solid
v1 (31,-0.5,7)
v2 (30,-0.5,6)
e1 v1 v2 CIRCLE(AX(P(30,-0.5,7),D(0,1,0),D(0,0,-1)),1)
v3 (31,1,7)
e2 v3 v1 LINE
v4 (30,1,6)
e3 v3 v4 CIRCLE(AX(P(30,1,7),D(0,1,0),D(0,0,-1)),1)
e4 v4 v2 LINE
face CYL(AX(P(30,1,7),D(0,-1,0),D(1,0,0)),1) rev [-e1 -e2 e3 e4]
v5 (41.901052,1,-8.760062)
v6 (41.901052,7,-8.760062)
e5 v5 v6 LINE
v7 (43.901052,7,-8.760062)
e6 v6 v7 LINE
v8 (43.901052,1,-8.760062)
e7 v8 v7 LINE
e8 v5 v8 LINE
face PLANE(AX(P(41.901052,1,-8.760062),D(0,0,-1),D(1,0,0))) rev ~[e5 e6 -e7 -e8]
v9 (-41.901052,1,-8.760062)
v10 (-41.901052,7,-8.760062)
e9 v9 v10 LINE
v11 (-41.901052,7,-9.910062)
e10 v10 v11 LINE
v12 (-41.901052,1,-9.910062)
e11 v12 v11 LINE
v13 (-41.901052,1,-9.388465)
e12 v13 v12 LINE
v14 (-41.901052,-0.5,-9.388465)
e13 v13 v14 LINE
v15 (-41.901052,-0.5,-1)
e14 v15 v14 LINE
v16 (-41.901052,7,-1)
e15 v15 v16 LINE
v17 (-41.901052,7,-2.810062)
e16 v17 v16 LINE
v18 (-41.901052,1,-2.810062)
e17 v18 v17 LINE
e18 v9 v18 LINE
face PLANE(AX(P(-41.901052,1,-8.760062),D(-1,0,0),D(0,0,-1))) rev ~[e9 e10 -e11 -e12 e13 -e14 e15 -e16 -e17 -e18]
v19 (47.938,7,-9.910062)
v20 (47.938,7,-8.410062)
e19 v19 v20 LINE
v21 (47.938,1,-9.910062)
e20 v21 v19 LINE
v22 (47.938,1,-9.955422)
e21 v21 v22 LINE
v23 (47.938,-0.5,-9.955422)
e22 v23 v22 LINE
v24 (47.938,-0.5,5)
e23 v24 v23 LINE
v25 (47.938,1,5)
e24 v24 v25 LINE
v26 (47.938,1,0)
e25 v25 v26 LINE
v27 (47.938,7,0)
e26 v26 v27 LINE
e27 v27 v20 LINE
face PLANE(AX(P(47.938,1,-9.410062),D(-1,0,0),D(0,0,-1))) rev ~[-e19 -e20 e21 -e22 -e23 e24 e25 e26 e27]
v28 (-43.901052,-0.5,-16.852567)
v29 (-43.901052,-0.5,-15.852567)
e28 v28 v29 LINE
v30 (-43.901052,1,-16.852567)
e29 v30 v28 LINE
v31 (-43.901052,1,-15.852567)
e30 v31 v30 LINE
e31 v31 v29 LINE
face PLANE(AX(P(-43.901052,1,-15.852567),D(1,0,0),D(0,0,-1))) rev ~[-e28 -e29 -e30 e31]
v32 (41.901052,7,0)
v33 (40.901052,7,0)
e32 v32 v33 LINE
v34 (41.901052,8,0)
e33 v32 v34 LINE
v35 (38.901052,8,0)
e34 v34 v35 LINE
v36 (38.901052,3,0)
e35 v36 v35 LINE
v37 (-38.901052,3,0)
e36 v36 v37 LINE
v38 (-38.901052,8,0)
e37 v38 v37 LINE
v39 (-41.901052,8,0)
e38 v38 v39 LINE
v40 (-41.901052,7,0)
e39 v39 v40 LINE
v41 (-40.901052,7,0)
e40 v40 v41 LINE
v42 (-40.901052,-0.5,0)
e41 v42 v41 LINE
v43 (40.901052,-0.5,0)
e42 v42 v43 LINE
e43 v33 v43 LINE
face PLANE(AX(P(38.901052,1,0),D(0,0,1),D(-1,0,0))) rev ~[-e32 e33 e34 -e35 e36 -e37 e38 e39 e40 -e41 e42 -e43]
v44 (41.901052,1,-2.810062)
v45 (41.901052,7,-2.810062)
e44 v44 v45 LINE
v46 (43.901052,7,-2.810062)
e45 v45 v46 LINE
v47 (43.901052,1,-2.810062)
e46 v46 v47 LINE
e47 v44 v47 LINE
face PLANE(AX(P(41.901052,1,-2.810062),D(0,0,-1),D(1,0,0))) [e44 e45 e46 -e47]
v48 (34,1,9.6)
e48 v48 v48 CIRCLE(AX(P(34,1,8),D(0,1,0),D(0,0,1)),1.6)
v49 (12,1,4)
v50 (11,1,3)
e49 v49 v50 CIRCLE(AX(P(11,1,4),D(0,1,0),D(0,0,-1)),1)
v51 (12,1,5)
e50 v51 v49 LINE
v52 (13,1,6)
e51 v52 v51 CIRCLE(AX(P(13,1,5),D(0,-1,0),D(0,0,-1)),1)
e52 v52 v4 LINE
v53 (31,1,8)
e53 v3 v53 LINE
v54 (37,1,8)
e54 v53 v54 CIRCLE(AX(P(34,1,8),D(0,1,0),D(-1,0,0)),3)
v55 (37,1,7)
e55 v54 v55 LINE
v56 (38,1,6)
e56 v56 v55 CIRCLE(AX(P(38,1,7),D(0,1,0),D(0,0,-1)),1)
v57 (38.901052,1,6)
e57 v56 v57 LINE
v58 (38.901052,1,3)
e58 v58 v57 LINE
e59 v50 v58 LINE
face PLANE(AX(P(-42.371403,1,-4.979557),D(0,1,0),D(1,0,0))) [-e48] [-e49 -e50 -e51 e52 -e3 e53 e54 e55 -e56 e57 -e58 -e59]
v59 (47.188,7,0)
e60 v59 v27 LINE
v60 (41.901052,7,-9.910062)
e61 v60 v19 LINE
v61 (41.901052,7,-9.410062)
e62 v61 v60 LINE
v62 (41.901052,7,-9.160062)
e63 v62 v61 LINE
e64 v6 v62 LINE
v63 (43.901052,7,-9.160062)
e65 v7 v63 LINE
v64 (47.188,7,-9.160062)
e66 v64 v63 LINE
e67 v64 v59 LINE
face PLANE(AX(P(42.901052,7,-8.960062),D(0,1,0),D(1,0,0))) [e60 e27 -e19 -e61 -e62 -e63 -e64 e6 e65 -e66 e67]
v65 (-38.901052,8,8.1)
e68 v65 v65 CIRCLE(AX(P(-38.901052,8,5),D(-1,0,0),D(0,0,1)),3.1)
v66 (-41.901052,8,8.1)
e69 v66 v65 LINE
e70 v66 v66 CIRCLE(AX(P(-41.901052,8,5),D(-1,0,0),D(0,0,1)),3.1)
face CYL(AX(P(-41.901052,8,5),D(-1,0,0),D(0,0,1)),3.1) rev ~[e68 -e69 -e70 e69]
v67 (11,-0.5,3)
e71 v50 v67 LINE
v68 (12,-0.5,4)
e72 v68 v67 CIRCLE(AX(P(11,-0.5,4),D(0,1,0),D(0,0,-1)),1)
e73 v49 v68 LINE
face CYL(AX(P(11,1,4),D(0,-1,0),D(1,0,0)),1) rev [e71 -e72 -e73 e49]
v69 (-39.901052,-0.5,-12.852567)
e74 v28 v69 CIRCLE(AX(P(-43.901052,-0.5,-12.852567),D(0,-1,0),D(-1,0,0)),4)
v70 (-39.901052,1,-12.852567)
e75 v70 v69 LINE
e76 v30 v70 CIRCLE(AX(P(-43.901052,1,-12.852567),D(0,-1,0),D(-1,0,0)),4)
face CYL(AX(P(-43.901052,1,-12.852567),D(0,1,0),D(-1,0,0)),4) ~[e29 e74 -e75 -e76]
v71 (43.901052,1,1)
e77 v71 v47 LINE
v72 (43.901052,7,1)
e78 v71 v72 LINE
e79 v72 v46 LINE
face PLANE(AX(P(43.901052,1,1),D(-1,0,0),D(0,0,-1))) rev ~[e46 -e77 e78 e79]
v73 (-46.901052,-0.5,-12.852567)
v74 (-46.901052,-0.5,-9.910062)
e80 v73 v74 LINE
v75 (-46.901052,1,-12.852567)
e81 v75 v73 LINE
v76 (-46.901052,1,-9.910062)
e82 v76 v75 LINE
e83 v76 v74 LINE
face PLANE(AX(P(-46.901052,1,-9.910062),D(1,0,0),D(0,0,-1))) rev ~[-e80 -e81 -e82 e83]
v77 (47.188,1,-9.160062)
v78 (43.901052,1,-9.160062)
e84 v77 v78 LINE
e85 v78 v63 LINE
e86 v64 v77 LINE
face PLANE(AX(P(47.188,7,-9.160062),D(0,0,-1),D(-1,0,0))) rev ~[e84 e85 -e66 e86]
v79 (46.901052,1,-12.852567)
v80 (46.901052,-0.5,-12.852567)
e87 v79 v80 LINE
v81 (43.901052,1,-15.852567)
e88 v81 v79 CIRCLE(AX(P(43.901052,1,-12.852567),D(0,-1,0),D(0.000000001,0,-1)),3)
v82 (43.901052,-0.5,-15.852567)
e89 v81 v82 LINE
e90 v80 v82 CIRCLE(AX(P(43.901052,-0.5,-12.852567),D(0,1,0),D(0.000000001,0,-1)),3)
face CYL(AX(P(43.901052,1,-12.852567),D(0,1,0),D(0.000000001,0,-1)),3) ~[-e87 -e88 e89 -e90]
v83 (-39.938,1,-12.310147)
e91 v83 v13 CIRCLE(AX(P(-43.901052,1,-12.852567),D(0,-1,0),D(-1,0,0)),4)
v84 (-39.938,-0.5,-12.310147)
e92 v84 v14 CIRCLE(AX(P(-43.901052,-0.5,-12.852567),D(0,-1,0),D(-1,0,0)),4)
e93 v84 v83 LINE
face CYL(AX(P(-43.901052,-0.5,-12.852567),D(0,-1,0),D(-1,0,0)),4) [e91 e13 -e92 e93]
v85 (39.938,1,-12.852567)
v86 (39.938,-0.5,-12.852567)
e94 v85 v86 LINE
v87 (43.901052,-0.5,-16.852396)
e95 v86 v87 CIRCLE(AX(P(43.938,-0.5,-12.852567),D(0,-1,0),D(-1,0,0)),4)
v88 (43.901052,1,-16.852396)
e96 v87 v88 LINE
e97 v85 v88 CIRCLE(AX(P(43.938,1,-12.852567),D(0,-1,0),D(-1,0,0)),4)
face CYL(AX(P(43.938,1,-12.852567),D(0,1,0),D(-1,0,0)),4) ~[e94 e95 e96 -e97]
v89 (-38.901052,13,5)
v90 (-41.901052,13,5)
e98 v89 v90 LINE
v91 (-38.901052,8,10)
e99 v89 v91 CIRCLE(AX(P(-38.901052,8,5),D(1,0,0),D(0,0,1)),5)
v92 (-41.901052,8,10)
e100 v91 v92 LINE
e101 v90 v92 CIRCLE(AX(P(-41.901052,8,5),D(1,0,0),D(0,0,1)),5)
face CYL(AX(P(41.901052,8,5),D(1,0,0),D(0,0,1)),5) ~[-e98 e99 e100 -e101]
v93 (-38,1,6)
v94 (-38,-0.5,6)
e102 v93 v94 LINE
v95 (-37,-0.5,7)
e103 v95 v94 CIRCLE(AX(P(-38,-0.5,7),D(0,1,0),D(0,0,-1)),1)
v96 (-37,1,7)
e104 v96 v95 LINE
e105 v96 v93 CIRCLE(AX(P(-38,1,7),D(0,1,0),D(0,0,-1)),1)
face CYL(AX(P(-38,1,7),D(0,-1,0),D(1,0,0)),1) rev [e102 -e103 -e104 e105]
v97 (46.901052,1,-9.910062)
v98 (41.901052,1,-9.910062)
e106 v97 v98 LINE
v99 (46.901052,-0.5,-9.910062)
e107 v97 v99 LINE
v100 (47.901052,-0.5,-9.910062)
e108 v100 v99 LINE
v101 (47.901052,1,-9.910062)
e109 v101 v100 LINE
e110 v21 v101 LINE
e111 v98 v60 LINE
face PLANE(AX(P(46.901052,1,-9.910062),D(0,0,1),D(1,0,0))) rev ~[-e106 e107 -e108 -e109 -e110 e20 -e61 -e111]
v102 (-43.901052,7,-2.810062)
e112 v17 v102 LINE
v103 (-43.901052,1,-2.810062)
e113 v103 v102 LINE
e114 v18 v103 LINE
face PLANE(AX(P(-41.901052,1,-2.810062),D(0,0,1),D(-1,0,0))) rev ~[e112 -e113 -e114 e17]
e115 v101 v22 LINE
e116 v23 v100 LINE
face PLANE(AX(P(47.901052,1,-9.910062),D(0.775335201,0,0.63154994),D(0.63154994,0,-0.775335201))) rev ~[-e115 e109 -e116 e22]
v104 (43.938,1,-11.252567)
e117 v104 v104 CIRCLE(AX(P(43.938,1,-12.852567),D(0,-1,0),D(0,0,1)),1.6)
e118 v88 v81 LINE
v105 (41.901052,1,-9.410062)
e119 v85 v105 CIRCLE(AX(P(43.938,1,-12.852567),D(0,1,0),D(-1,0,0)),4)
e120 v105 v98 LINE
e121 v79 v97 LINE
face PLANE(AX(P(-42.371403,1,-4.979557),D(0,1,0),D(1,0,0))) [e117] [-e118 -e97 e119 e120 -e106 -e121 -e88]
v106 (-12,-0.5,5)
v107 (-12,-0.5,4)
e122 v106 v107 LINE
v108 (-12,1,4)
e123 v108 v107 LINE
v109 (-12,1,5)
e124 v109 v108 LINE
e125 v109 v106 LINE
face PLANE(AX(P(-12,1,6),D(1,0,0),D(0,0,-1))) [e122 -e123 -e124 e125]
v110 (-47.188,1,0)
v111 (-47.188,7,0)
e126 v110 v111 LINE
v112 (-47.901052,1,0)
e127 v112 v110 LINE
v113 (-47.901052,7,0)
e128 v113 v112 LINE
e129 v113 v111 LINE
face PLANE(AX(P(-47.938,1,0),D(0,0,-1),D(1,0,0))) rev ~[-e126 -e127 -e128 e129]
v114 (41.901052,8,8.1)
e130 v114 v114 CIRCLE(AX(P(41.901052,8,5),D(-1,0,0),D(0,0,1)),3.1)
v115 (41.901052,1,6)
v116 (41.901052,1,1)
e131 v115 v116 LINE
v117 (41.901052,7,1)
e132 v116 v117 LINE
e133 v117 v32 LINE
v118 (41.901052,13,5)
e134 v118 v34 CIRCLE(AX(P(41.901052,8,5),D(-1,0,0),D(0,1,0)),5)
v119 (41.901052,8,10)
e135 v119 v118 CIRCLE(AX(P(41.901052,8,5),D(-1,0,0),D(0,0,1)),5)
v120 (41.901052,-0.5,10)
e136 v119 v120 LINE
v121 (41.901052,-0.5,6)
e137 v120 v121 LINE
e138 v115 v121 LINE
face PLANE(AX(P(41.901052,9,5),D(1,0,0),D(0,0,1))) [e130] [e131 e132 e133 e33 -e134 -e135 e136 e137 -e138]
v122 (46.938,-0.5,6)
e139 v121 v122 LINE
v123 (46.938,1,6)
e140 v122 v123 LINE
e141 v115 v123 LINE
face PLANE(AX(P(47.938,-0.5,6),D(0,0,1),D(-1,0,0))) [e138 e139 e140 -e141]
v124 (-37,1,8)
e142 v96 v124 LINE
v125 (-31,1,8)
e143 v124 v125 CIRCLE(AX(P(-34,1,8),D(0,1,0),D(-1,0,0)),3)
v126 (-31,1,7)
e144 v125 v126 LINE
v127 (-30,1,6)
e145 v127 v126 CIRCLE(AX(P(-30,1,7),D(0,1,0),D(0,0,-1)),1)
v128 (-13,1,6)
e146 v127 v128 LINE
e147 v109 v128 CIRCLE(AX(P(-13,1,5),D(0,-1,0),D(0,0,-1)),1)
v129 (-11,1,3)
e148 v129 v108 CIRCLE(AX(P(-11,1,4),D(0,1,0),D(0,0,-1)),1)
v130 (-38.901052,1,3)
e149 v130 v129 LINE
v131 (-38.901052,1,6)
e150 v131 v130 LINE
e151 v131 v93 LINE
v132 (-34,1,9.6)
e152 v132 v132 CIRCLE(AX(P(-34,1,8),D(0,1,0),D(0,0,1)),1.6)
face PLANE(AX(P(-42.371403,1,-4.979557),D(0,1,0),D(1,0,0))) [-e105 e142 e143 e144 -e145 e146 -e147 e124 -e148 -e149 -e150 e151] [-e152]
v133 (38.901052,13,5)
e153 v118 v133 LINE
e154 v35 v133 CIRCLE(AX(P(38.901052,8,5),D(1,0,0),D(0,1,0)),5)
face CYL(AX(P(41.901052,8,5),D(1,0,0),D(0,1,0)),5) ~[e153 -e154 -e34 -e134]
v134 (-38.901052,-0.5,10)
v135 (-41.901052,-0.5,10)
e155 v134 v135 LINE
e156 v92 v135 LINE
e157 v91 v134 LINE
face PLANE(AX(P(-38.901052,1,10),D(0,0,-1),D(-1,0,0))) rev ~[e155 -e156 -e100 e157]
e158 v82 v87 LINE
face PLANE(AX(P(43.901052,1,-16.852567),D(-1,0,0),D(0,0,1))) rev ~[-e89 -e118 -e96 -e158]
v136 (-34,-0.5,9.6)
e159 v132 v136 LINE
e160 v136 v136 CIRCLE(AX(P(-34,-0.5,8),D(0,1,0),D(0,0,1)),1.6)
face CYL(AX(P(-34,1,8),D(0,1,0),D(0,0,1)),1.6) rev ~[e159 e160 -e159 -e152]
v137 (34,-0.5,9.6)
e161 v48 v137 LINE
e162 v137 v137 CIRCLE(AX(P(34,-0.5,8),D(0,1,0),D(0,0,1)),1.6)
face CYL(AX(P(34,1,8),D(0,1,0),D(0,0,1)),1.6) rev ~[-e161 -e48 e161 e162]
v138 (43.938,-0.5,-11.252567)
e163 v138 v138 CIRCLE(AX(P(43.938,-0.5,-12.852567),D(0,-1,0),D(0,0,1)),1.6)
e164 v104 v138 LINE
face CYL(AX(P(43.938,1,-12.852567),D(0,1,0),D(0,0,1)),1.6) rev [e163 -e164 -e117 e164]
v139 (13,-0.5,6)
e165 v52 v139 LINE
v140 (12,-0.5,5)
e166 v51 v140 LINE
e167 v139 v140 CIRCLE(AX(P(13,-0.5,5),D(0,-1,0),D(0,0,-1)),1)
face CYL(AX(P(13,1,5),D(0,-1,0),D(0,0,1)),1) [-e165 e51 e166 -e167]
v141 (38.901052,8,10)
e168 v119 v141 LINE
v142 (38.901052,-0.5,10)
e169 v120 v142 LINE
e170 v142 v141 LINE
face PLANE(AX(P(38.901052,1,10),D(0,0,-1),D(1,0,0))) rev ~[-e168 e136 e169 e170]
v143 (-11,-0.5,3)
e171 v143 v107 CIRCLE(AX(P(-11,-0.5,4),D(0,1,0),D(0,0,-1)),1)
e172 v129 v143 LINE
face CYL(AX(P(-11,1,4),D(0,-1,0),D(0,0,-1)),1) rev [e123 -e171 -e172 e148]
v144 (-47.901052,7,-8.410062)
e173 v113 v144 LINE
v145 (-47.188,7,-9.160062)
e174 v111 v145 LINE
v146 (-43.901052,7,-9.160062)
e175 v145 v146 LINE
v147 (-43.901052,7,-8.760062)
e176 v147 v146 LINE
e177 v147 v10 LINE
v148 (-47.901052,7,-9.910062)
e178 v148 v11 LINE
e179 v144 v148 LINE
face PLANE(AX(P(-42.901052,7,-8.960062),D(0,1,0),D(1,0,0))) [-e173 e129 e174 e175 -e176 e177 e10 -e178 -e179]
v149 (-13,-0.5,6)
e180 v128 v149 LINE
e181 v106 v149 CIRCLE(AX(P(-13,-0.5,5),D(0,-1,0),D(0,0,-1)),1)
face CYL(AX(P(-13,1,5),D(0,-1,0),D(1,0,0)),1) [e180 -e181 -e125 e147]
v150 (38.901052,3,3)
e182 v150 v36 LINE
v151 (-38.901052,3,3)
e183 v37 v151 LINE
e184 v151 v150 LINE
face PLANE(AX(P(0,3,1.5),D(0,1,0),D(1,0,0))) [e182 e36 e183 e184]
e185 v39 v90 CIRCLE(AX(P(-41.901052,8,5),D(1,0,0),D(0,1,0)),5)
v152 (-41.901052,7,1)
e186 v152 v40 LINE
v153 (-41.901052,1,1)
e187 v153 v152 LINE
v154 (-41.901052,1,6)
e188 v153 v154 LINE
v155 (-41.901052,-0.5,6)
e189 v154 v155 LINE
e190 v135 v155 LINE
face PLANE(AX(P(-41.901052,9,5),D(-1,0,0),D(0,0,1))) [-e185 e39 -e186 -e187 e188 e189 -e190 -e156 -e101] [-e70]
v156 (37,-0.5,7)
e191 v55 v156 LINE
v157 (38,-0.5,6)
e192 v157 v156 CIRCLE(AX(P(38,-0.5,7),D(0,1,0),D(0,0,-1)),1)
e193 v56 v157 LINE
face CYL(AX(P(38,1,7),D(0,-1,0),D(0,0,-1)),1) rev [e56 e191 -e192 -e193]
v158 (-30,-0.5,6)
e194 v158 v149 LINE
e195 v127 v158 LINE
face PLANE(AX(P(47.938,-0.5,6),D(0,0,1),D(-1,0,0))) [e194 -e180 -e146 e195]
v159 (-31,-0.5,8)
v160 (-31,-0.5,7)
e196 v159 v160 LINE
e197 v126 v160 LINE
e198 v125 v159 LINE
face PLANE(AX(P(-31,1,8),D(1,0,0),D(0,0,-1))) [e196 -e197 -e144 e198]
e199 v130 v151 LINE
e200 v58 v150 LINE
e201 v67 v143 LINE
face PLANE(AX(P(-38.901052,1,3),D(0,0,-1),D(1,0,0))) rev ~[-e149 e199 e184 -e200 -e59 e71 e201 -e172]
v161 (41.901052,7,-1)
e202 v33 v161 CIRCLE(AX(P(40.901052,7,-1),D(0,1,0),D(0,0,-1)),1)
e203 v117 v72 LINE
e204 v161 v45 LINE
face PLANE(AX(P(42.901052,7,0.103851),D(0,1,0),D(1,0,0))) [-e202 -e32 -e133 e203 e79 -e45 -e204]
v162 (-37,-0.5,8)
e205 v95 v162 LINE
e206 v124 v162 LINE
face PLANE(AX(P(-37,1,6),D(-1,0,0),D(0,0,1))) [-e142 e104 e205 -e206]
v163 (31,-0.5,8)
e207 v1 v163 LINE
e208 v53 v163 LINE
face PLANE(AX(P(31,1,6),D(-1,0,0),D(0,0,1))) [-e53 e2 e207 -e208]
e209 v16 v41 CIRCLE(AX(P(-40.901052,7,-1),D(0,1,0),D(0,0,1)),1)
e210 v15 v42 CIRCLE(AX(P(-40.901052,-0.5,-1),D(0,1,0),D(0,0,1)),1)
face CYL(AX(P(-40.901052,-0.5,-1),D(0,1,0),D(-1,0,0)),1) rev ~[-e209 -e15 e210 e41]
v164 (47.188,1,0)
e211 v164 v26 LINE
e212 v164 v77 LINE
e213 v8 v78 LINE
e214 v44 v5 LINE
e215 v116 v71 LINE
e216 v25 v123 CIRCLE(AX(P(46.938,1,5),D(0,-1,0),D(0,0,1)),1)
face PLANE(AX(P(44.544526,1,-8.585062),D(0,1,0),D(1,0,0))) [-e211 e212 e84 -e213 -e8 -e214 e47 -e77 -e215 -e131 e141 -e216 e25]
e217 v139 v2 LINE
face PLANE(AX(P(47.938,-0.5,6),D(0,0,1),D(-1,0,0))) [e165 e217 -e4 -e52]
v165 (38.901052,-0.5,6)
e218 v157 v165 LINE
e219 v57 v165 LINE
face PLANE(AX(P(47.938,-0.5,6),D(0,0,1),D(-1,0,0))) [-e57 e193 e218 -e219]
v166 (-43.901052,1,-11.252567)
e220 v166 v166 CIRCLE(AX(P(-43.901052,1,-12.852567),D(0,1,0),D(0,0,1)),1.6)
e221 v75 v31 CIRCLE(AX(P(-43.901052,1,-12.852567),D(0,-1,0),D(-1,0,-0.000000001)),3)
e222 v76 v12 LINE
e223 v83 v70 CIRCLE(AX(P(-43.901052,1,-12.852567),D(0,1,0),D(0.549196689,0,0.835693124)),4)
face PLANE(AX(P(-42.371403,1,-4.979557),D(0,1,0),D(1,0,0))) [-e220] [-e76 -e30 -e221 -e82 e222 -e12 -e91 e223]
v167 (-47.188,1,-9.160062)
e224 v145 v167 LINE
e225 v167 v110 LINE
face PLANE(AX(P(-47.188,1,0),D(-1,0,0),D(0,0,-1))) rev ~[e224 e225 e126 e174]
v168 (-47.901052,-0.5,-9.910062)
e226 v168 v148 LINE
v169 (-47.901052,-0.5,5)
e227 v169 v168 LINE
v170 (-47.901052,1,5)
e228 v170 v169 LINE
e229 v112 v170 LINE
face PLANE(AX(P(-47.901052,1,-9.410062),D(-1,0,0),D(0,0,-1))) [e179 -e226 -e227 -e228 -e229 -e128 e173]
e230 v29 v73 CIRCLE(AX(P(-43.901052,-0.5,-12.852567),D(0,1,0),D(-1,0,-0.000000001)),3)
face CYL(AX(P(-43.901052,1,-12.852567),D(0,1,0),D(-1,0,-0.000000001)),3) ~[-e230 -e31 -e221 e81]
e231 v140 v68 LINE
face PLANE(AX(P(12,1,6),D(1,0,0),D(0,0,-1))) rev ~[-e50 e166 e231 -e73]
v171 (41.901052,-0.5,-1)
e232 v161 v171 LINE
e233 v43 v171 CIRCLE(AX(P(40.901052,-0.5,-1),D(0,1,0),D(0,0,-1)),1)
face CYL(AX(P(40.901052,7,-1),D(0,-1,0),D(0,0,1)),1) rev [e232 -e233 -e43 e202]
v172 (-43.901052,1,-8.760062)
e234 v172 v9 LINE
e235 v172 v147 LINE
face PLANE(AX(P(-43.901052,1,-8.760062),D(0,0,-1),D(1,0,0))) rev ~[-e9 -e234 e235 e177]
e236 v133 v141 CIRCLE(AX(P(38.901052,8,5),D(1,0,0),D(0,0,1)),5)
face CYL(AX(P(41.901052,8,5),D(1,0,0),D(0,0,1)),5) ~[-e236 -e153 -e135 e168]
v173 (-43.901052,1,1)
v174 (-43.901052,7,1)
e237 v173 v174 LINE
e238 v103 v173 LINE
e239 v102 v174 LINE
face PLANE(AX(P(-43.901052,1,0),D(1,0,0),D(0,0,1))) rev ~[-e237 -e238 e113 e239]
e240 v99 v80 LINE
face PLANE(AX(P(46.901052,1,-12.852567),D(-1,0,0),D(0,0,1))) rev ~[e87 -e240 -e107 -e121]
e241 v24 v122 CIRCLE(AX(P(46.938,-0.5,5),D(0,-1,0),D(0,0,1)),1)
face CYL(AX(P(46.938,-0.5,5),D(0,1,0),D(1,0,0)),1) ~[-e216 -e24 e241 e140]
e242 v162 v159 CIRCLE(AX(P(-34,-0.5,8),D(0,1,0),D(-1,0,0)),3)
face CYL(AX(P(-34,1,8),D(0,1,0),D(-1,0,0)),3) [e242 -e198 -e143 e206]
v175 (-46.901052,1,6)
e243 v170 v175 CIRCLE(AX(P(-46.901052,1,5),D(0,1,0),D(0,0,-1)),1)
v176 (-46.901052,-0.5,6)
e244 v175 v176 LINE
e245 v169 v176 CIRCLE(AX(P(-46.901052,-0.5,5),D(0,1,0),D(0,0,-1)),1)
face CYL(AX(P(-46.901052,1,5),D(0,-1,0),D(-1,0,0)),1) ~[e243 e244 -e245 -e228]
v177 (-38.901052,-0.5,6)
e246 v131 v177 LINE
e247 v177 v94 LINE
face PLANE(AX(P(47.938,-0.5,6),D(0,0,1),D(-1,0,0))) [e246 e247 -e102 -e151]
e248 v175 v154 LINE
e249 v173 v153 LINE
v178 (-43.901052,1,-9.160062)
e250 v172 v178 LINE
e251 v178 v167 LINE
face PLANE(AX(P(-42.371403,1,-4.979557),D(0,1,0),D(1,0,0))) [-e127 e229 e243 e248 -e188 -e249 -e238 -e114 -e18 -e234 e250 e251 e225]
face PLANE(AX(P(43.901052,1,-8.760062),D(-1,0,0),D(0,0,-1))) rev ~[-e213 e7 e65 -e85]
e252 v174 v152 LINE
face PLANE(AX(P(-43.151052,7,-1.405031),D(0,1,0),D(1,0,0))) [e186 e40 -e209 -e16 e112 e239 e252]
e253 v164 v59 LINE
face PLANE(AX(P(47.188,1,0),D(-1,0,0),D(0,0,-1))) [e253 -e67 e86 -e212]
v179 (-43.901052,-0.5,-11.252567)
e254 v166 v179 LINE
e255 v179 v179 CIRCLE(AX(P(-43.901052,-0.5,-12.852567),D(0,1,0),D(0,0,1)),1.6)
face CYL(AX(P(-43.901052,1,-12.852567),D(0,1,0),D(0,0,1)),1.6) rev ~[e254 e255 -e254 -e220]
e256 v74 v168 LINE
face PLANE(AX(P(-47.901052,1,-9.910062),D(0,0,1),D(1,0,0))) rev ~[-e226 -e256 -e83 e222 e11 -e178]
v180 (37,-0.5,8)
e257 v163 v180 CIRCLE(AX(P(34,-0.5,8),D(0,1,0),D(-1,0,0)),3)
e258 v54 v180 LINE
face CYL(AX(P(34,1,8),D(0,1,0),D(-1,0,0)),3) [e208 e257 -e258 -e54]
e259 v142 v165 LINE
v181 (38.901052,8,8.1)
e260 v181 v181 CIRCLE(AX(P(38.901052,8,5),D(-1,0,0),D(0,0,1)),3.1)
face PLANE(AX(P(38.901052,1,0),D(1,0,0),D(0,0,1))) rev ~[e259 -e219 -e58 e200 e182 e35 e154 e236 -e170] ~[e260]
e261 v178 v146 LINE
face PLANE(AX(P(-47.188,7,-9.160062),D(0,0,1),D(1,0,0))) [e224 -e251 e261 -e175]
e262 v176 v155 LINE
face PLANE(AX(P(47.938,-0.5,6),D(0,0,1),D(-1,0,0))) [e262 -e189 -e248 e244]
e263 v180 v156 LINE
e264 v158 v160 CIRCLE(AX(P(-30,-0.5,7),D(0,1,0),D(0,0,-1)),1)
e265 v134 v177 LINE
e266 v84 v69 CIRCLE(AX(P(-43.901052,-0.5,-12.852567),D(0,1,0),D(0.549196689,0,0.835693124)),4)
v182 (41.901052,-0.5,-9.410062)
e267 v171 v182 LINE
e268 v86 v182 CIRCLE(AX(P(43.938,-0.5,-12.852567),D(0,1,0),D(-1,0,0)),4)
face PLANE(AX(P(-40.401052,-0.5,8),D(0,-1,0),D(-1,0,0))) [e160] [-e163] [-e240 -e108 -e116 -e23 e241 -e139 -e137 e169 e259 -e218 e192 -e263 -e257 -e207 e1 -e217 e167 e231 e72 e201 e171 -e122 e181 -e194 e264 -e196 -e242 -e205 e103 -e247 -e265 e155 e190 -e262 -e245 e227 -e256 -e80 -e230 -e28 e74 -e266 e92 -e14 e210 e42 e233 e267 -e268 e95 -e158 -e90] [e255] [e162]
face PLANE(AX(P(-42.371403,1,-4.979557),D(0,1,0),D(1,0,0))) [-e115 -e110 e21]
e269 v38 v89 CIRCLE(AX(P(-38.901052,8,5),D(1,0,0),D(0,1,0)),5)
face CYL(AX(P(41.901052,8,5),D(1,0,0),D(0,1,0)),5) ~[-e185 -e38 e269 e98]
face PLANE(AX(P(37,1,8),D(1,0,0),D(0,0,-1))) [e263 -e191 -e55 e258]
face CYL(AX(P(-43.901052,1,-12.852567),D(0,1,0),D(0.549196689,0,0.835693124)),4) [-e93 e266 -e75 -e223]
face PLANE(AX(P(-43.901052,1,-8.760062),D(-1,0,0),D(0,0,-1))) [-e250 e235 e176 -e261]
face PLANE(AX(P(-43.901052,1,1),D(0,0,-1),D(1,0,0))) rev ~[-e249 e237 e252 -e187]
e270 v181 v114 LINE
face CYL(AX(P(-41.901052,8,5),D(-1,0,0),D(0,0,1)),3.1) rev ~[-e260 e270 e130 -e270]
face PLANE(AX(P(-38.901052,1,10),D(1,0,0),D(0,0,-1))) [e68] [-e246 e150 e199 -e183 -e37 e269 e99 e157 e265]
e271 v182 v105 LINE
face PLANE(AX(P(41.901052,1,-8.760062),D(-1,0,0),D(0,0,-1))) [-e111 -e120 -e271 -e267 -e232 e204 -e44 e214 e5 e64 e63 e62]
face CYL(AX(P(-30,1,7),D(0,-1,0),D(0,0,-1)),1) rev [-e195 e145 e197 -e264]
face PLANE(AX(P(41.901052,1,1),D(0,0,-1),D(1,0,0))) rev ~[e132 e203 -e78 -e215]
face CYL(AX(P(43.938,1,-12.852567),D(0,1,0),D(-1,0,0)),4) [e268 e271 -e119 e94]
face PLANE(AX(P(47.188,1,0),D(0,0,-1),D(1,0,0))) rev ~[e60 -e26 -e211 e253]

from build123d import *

# Parameters (mm, degrees)
BOSS_EXTRUDE1_START      = -0.5
BOSS_EXTRUDE1_DEPTH      = 1.5
SKETCH2_R                = 1.6
CUT_EXTRUDE1_DEPTH       = 1
SKETCH3_W                = 0.75
SKETCH3_H                = 10
BOSS_EXTRUDE2_DEPTH      = 5
BOSS_EXTRUDE3_DEPTH      = 5
SKETCH5_W                = 4.286948095
SKETCH5_H                = 10
SKETCH5_W_2              = 4.25
CUT_EXTRUDE2_DEPTH       = 51
SKETCH6_R                = 1.6
BOSS_EXTRUDE4_DEPTH      = 1.5
CUT_EXTRUDE3_DEPTH       = 51
SKETCH9_W                = 1.486095819
SKETCH9_H                = 8.860387047
BOSS_EXTRUDE5_DEPTH      = 1.5
SKETCH10_W               = 0.325570639
SKETCH10_H               = 19.562658846
CUT_EXTRUDE4_DEPTH       = 51
SKETCH11_W               = 2.963051905
SKETCH11_H               = 0.75
BOSS_EXTRUDE6_DEPTH      = 5
CUT_EXTRUDE5_DEPTH       = 24
CUT_EXTRUDE5_DEPTH_BACK  = 10
SKETCH13_W               = 3.75
SKETCH13_H               = 0.877509659
BOSS_EXTRUDE7_DEPTH      = 5
CUT_EXTRUDE8_DEPTH       = 24
CUT_EXTRUDE9_DEPTH       = 24
SKETCH17_W               = 0.75
SKETCH17_H               = 6
CUT_EXTRUDE10_DEPTH      = 5
SKETCH18_R               = 23.563535961
CUT_EXTRUDE11_DEPTH      = 50
SKETCH19_W               = 0.75
SKETCH19_H               = 3.122490341
SKETCH19_W_2             = 3.75
SKETCH19_H_2             = 0.877509659
BOSS_EXTRUDE8_DEPTH      = 5
BOSS_EXTRUDE9_DEPTH      = 1.5
SKETCH21_R               = 54.234395916
CUT_EXTRUDE12_DEPTH      = 26
BOSS_EXTRUDE10_DEPTH     = 1.5
BOSS_EXTRUDE11_DEPTH     = 1.5
SKETCH24_W               = 6.036948095
SKETCH24_H               = 1
SKETCH24_W_2             = 6
SKETCH24_W_3             = 2
SKETCH24_H_2             = 2.410061644
BOSS_EXTRUDE13_DEPTH     = 6
SKETCH25_W               = 2.5
SKETCH25_H               = 0.4
BOSS_EXTRUDE14_DEPTH     = 6
SKETCH26_W               = 0.75
SKETCH26_H               = 8.410061644
BOSS_EXTRUDE15_DEPTH     = 6
SKETCH27_W               = 0.5
SKETCH27_H               = 8.410061644
CUT_EXTRUDE13_DEPTH      = 6
SKETCH28_W               = 3
SKETCH28_H               = 4
BOSS_EXTRUDE18_DEPTH     = 13
SKETCH29_R               = 3.1
CUT_EXTRUDE14_DEPTH      = 154
CUT_EXTRUDE14_DEPTH_BACK = 13
SKETCH30_W               = 2
SKETCH30_H               = 5.827825404
CUT_EXTRUDE15_DEPTH      = 20
SKETCH31_W               = 8
SKETCH31_H               = 3
CUT_EXTRUDE16_DEPTH      = 20
SKETCH32_R               = 1.6
BOSS_EXTRUDE19_DEPTH     = 1.5
SKETCH34_W               = 3
SKETCH34_H               = 4
BOSS_EXTRUDE20_DEPTH     = 1.5
SKETCH35_W               = 4
SKETCH35_H               = 3
CUT_EXTRUDE17_DEPTH      = 1.5
FILLET2_R                = 1
BOSS_EXTRUDE21_DEPTH     = 2
SKETCH37_W               = 6
SKETCH37_H               = 0.5
BOSS_EXTRUDE22_DEPTH     = 6
SKETCH38_W               = 0.036948095
SKETCH38_H               = 0.5
BOSS_EXTRUDE23_DEPTH     = 6
SKETCH39_W               = 0.036948095
SKETCH39_H               = 8.410061644
CUT_EXTRUDE18_DEPTH      = 14
CUT_EXTRUDE19_DEPTH      = 6
SKETCH41_W               = 2
SKETCH41_H               = 0.4
BOSS_EXTRUDE25_DEPTH     = 6
CUT_EXTRUDE20_DEPTH      = 6
SKETCH43_W               = 2
SKETCH43_H               = 0.4
BOSS_EXTRUDE26_DEPTH     = 6
SKETCH44_R               = 3.1
BOSS_EXTRUDE27_DEPTH     = 3
SKETCH45_R               = 1.6
CUT_EXTRUDE21_DEPTH      = 8
CUT_EXTRUDE21_DEPTH_BACK = 155
SKETCH46_R               = 3.1
BOSS_EXTRUDE28_DEPTH     = 3
SKETCH47_R               = 3.1
CUT_EXTRUDE22_DEPTH      = 155
SKETCH49_R               = 4
BOSS_EXTRUDE29_DEPTH     = 1.5
SKETCH50_R               = 1.6
CUT_EXTRUDE23_DEPTH      = 10
CUT_EXTRUDE25_DEPTH      = 3.5


with BuildPart() as part:
    # Sketch1 → Boss-Extrude1 (new body)
    with BuildSketch(Plane(origin=(0, 0, 0), x_dir=(1, 0, 0), z_dir=(0, 1, 0)).offset(BOSS_EXTRUDE1_START)):
        Polygon((0, 0), (39.901051905, 0), (39.901051905, 10), (43.938, 10), (47.938, 10), (47.938, -6), (-47.938, -6), (-47.938, 10), (-43.938, 10), (-39.938, 10), (-39.938, 0), align=None)
    boss_extrude1 = extrude(amount=BOSS_EXTRUDE1_DEPTH)

    # Sketch2 → Cut-Extrude1 (cut)
    with BuildSketch(Plane(origin=(0, 1, 0), x_dir=(1, 0, 0), z_dir=(0, 1, 0))):
        with Locations(Location((-43.938, 2.852566903, 0), (0, 0, 270))):
            Circle(SKETCH2_R)
        with Locations(Location((43.921766654, 2.513393114, 0), (0, 0, 90))):
            Circle(SKETCH2_R)
    extrude(amount=-CUT_EXTRUDE1_DEPTH, mode=Mode.SUBTRACT)

    # Sketch3 → Boss-Extrude2 (add)
    with BuildSketch(Plane(origin=(0, 1, 0), x_dir=(1, 0, 0), z_dir=(0, 1, 0))):
        with Locations((-40.313, 5)):
            Rectangle(SKETCH3_W, SKETCH3_H)
        with Locations((40.276051905, 5)):
            Rectangle(SKETCH3_W, SKETCH3_H)
    extrude(amount=BOSS_EXTRUDE2_DEPTH)

    # Sketch4 → Boss-Extrude3 (add)
    with BuildSketch(Plane(origin=(0, 1, 0), x_dir=(1, 0, 0), z_dir=(0, 1, 0))):
        with BuildLine():
            Line((-44.188, 4.432914966), (-44.188, 10))
            Line((-44.188, 10), (-44.938, 10))
            Line((-44.938, 10), (-44.938, 4.101566503))
            ThreePointArc((-44.938, 4.101566503), (-44.58458561, 4.31609929), (-44.188, 4.432914966))
        make_face()
        with BuildLine():
            Line((-44.188, 1.27221884), (-44.188, 4.432914966))
            ThreePointArc((-44.188, 4.432914966), (-44.58458561, 4.31609929), (-44.938, 4.101566503))
            Line((-44.938, 4.101566503), (-44.938, 1.603567303))
            ThreePointArc((-44.938, 1.603567303), (-44.58458561, 1.389034515), (-44.188, 1.27221884))
        make_face()
        with BuildLine():
            Line((-44.188, 0), (-44.188, 1.27221884))
            ThreePointArc((-44.188, 1.27221884), (-44.58458561, 1.389034515), (-44.938, 1.603567303))
            Line((-44.938, 1.603567303), (-44.938, 0))
            Line((-44.938, 0), (-44.188, 0))
        make_face()
        with BuildLine():
            Line((44.938, 3.749220685), (44.938, 10))
            Line((44.938, 10), (44.188, 10))
            Line((44.188, 10), (44.188, 4.091087572))
            ThreePointArc((44.188, 4.091087572), (44.585391884, 3.969278258), (44.938, 3.749220685))
        make_face()
        with BuildLine():
            Line((44.938, 1.277565542), (44.938, 3.749220685))
            ThreePointArc((44.938, 3.749220685), (44.585391884, 3.969278258), (44.188, 4.091087572))
            Line((44.188, 4.091087572), (44.188, 0.935698655))
            ThreePointArc((44.188, 0.935698655), (44.585391884, 1.057507969), (44.938, 1.277565542))
        make_face()
        with BuildLine():
            Line((44.938, 0), (44.938, 1.277565542))
            ThreePointArc((44.938, 1.277565542), (44.585391884, 1.057507969), (44.188, 0.935698655))
            Line((44.188, 0.935698655), (44.188, 0))
            Line((44.188, 0), (44.938, 0))
        make_face()
    boss_extrude3 = extrude(amount=BOSS_EXTRUDE3_DEPTH)

    # Sketch5 → Cut-Extrude2 (cut)
    with BuildSketch(Plane(origin=(0, 1, 0), x_dir=(1, 0, 0), z_dir=(0, 1, 0))):
        with Locations((42.044525953, 5)):
            Rectangle(SKETCH5_W, SKETCH5_H)
        with Locations((-42.063, 5)):
            Rectangle(SKETCH5_W_2, SKETCH5_H)
    extrude(amount=CUT_EXTRUDE2_DEPTH, mode=Mode.SUBTRACT)

    # Sketch6 → Boss-Extrude4 (add)
    with BuildSketch(Plane(origin=(0, 1, 0), x_dir=(1, 0, 0), z_dir=(0, 1, 0))):
        with BuildLine():
            Line((-47.938, 12.852566903), (-47.938, 10))
            Line((-47.938, 10), (-44.938, 10))
            Line((-44.938, 10), (-44.188, 10))
            Line((-44.188, 10), (-39.938, 10))
            Line((-39.938, 10), (-39.938, 12.852566903))
            ThreePointArc((-39.938, 12.852566903), (-43.938, 16.852566903), (-47.938, 12.852566903))
        make_face()
        with Locations(Location((-43.938, 12.852566903, 0), (0, 0, 270))):
            Circle(SKETCH6_R, mode=Mode.SUBTRACT)
        with BuildLine():
            Line((44.938, 10), (47.901051905, 10))
            Line((47.901051905, 10), (47.901051905, 12.852566903))
            ThreePointArc((47.901051905, 12.852566903), (43.901051905, 16.852566903), (39.901051905, 12.852566903))
            Line((39.901051905, 12.852566903), (39.901051905, 10))
            Line((39.901051905, 10), (44.188, 10))
            Line((44.188, 10), (44.938, 10))
        make_face()
        with Locations(Location((43.901051905, 12.852566903, 0), (0, 0, 270))):
            Circle(SKETCH6_R, mode=Mode.SUBTRACT)
        with BuildLine():
            ThreePointArc((-44.188, 4.432914966), (-42.338, 2.852566903), (-44.188, 1.27221884))
            Line((-44.188, 1.27221884), (-44.188, 0))
            Line((-44.188, 0), (-44.938, 0))
            Line((-44.938, 0), (-44.938, 1.603567303))
            ThreePointArc((-44.938, 1.603567303), (-45.538, 2.852566903), (-44.938, 4.101566503))
            Line((-44.938, 4.101566503), (-44.938, 10))
            Line((-44.938, 10), (-47.938, 10))
            Line((-47.938, 10), (-47.938, -6))
            Line((-47.938, -6), (47.938, -6))
            Line((47.938, -6), (47.938, 10))
            Line((47.938, 10), (44.938, 10))
            Line((44.938, 10), (44.938, 3.749220685))
            ThreePointArc((44.938, 3.749220685), (45.521766654, 2.513393114), (44.938, 1.277565542))
            Line((44.938, 1.277565542), (44.938, 0))
            Line((44.938, 0), (44.188, 0))
            Line((44.188, 0), (44.188, 0.935698655))
            ThreePointArc((44.188, 0.935698655), (42.321766654, 2.513393114), (44.188, 4.091087572))
            Line((44.188, 4.091087572), (44.188, 10))
            Line((44.188, 10), (39.901051905, 10))
            Line((39.901051905, 10), (39.901051905, 0))
            Line((39.901051905, 0), (-39.938, 0))
            Line((-39.938, 0), (-39.938, 10))
            Line((-39.938, 10), (-44.188, 10))
            Line((-44.188, 10), (-44.188, 4.432914966))
        make_face()
    boss_extrude4 = extrude(amount=-BOSS_EXTRUDE4_DEPTH)

    # Sketch8 → Cut-Extrude3 (cut)
    with BuildSketch(Plane(origin=(0, -0.5, 0), x_dir=(-1, 0, 0), z_dir=(0, -1, 0))):
        with BuildLine():
            Line((44.188, 2.852566903), (44.188, 8.860387047))
            ThreePointArc((44.188, 8.860387047), (41.199387212, 9.937090955), (39.938, 12.852566903))
            Line((39.938, 12.852566903), (39.938, 0))
            Line((39.938, 0), (44.188, 0))
            Line((44.188, 0), (44.188, 2.852566903))
        make_face()
        with BuildLine():
            Line((-39.901051905, 0), (-39.901051905, 12.852566903))
            ThreePointArc((-39.901051905, 12.852566903), (-41.162439117, 9.937090955), (-44.151051905, 8.860387047))
            Line((-44.151051905, 8.860387047), (-44.151051905, 2.852566903))
            Line((-44.151051905, 2.852566903), (-44.151051905, 0))
            Line((-44.151051905, 0), (-39.901051905, 0))
        make_face()
    extrude(amount=-CUT_EXTRUDE3_DEPTH, mode=Mode.SUBTRACT)

    # Sketch9 → Boss-Extrude5 (add)
    with BuildSketch(Plane(origin=(0, -0.5, 0), x_dir=(-1, 0, 0), z_dir=(0, -1, 0))):
        with Locations((44.93104791, 4.430193523)):
            Rectangle(SKETCH9_W, SKETCH9_H)
        with Locations((-44.894099815, 4.430193523)):
            Rectangle(SKETCH9_W, SKETCH9_H)
    extrude(amount=-BOSS_EXTRUDE5_DEPTH)

    # Sketch10 → Cut-Extrude4 (cut)
    with BuildSketch(Plane(origin=(0, 1, 0), x_dir=(1, 0, 0), z_dir=(0, 1, 0))):
        with Locations((48.063837225, 3.07123748)):
            Rectangle(SKETCH10_W, SKETCH10_H)
    extrude(amount=-CUT_EXTRUDE4_DEPTH, mode=Mode.SUBTRACT)

    # Sketch11 → Boss-Extrude6 (add)
    with BuildSketch(Plane(origin=(0, 1, 0), x_dir=(1, 0, 0), z_dir=(0, 1, 0))):
        with Locations((46.419525953, 9.625)):
            Rectangle(SKETCH11_W, SKETCH11_H)
        with Locations((-46.419525953, 9.625)):
            Rectangle(SKETCH11_W, SKETCH11_H)
    extrude(amount=BOSS_EXTRUDE6_DEPTH)

    # Sketch12 → Cut-Extrude5 (cut, two sides)
    with BuildSketch(Plane(origin=(0, 1, 0), x_dir=(1, 0, 0), z_dir=(0, 1, 0))) as cut_extrude5_sk:
        with BuildLine():
            Line((44.151051905, 0), (0, 0))
            Line((0, 0), (0, -6))
            Line((0, -6), (47.901051905, -6))
            Line((47.901051905, -6), (47.901051905, 9.25))
            Line((47.901051905, 9.25), (44.938, 9.25))
            Line((44.938, 9.25), (44.938, 0))
            Line((44.938, 0), (44.188, 0))
            Line((44.188, 0), (44.188, 10))
            Line((44.188, 10), (47.901051905, 10))
            Line((47.901051905, 10), (47.901051905, 12.852566903))
            ThreePointArc((47.901051905, 12.852566903), (43.901051905, 16.852566903), (39.901051905, 12.852566903))
            ThreePointArc((39.901051905, 12.852566903), (41.162439117, 9.937090955), (44.151051905, 8.860387047))
            Line((44.151051905, 8.860387047), (44.151051905, 0))
        make_face()
        with BuildLine():
            ThreePointArc((45.501051905, 12.852566903), (43.901051905, 11.252566903), (42.301051905, 12.852566903))
            ThreePointArc((42.301051905, 12.852566903), (43.901051905, 14.452566903), (45.501051905, 12.852566903))
        make_face(mode=Mode.SUBTRACT)
    extrude(amount=CUT_EXTRUDE5_DEPTH, mode=Mode.SUBTRACT)
    extrude(cut_extrude5_sk.sketch, amount=-CUT_EXTRUDE5_DEPTH_BACK, mode=Mode.SUBTRACT)


with BuildPart() as cut_extrude5_kept_piece:
    # of the separate pieces the step leaves, the one the design keeps (cut_extrude5_pieces_kept)
    add(part.part.solids().sort_by_distance((0, -0.5, 0))[0])

    # Mirror1: Boss-Extrude1, Boss-Extrude3, Boss-Extrude4 across plane
    add(boss_extrude1.mirror(Plane(origin=(0, -9, 0), x_dir=(0, 0, 1), z_dir=(1, 0, 0))))
    add(boss_extrude3.mirror(Plane(origin=(0, -9, 0), x_dir=(0, 0, 1), z_dir=(1, 0, 0))))
    add(boss_extrude4.mirror(Plane(origin=(0, -9, 0), x_dir=(0, 0, 1), z_dir=(1, 0, 0))))

    # Sketch13 → Boss-Extrude7 (add)
    with BuildSketch(Plane(origin=(0, 1, 0), x_dir=(1, 0, 0), z_dir=(0, 1, 0))):
        with Locations((46.063, 9.561245171)):
            Rectangle(SKETCH13_W, SKETCH13_H)
    extrude(amount=BOSS_EXTRUDE7_DEPTH)

    # Sketch14 → Cut-Extrude8 (cut)
    with BuildSketch(Plane(origin=(0, 1, 0), x_dir=(1, 0, 0), z_dir=(0, 1, 0))):
        with BuildLine():
            Line((44.188, 8.860387047), (44.188, 0))
            Line((44.188, 0), (39.938, 0))
            Line((39.938, 0), (39.938, 12.852566903))
            ThreePointArc((39.938, 12.852566903), (41.199387212, 9.937090955), (44.188, 8.860387047))
        make_face()
        with BuildLine():
            Line((-39.938, 0), (-39.938, 12.852566903))
            ThreePointArc((-39.938, 12.852566903), (-41.199387212, 9.937090955), (-44.188, 8.860387047))
            Line((-44.188, 8.860387047), (-44.188, 0))
            Line((-44.188, 0), (-39.938, 0))
        make_face()
    extrude(amount=-CUT_EXTRUDE8_DEPTH, mode=Mode.SUBTRACT)

    # Sketch16 → Cut-Extrude9 (cut)
    with BuildSketch(Plane(origin=(0, 1, 0), x_dir=(1, 0, 0), z_dir=(0, 1, 0))):
        with BuildLine():
            Line((-47.901051905, 12.852566903), (-47.901051905, -8.737912396))
            Line((-47.901051905, -8.737912396), (-59.17463004, -3.945157427))
            Line((-59.17463004, -3.945157427), (-50.594052594, 27.053144877))
            Line((-50.594052594, 27.053144877), (-22.185384024, 22.801507404))
            Line((-22.185384024, 22.801507404), (-38.341606422, 0))
            Line((-38.341606422, 0), (-41.70426515, 0))
            Line((-41.70426515, 0), (-41.70426515, 9.509794408))
            ThreePointArc((-41.70426515, 9.509794408), (-42.001992535, 16.373017657), (-47.901051905, 12.852566903))
        make_face()
    extrude(amount=-CUT_EXTRUDE9_DEPTH, mode=Mode.SUBTRACT)

    # Sketch17 → Cut-Extrude10 (cut)
    with BuildSketch(Plane(origin=(0, 6, 0), x_dir=(1, 0, 0), z_dir=(0, 1, 0))):
        with Locations((44.563, 6.122490341)):
            Rectangle(SKETCH17_W, SKETCH17_H)
        with Locations((-44.563, 6.122490341)):
            Rectangle(SKETCH17_W, SKETCH17_H)
    extrude(amount=-CUT_EXTRUDE10_DEPTH, mode=Mode.SUBTRACT)

    # Sketch18 → Cut-Extrude11 (cut)
    with BuildSketch(Plane(origin=(0, 1, 0), x_dir=(1, 0, 0), z_dir=(0, 1, 0))):
        with Locations((-44.188, 8.860387047)):
            Circle(SKETCH18_R)
    extrude(amount=CUT_EXTRUDE11_DEPTH, mode=Mode.SUBTRACT)

    # Sketch19 → Boss-Extrude8 (add)
    with BuildSketch(Plane(origin=(0, 1, 0), x_dir=(1, 0, 0), z_dir=(0, 1, 0))):
        Polygon((-47.901051905, 9.122490341), (-44.938, 9.122490341), (-44.188, 9.122490341), (-44.188, 10), (-47.901051905, 10), align=None)
        Polygon((-44.938, 8.434081652), (-44.188, 8.434081652), (-44.188, 8.860387047), (-44.188, 9.122490341), (-44.938, 9.122490341), align=None)
        with Locations((-44.563, 1.561245171)):
            Rectangle(SKETCH19_W, SKETCH19_H)
        with Locations((46.063, 9.561245171)):
            Rectangle(SKETCH19_W_2, SKETCH19_H_2)
        Polygon((44.938, 9.122490341), (44.188, 9.122490341), (44.188, 8.860387047), (44.188, 8.434081652), (44.938, 8.434081652), align=None)
    extrude(amount=BOSS_EXTRUDE8_DEPTH)

    # Sketch20 → Boss-Extrude9 (add)
    with BuildSketch(Plane(origin=(0, 1, 0), x_dir=(1, 0, 0), z_dir=(0, 1, 0))):
        Polygon((43.938, 8.852566903), (43.938, 0), (44.188, 0), (44.188, 8.860387047), align=None)
        Polygon((-44.188, 8.860387047), (-43.938, 8.852566903), (-43.938, 0), (-44.188, 0), align=None)
    extrude(amount=-BOSS_EXTRUDE9_DEPTH)

    # Sketch21 → Cut-Extrude12 (cut)
    with BuildSketch(Plane(origin=(0, 1, 0), x_dir=(1, 0, 0), z_dir=(0, 1, 0))):
        Circle(SKETCH21_R)
    extrude(amount=CUT_EXTRUDE12_DEPTH, mode=Mode.SUBTRACT)

    # Sketch22 → Boss-Extrude10 (add)
    with BuildSketch(Plane(origin=(0, 1, 0), x_dir=(1, 0, 0), z_dir=(0, 1, 0))):
        Polygon((-42.901051905, 3.426283451), (-42.901051905, 0), (-43.938, 0), (-43.938, 8.852566903), (-42.901051905, 9.79950521), align=None)
        Polygon((42.901051905, 9.79950521), (43.938, 8.852566903), (43.938, 0), (42.901051905, 0), (42.901051905, 3.426283451), align=None)
    extrude(amount=-BOSS_EXTRUDE10_DEPTH)

    # Sketch23 → Boss-Extrude11 (add)
    with BuildSketch(Plane(origin=(0, 1, 0), x_dir=(1, 0, 0), z_dir=(0, 1, 0))):
        Polygon((-42.901051905, 0), (-41.901051905, 0), (-41.901051905, 10.289022351), (-42.901051905, 8.989311974), align=None)
        Polygon((42.901051905, 8.989311974), (42.901051905, 0), (41.901051905, 0), (41.901051905, 10.289022351), align=None)
    extrude(amount=-BOSS_EXTRUDE11_DEPTH)

    # Sketch24 → Boss-Extrude13 (add)
    with BuildSketch(Plane(origin=(0, 1, 0), x_dir=(1, 0, 0), z_dir=(0, 1, 0))):
        with Locations((44.919525953, 8.910061644)):
            Rectangle(SKETCH24_W, SKETCH24_H)
        with Locations((-44.901051905, 8.910061644)):
            Rectangle(SKETCH24_W_2, SKETCH24_H)
        with Locations((-42.901051905, 1.205030822)):
            Rectangle(SKETCH24_W_3, SKETCH24_H_2)
        with Locations((42.901051905, 1.205030822)):
            Rectangle(SKETCH24_W_3, SKETCH24_H_2)
    extrude(amount=BOSS_EXTRUDE13_DEPTH)

    # Sketch25 → Boss-Extrude14 (add)
    with BuildSketch(Plane(origin=(0, 1, 0), x_dir=(1, 0, 0), z_dir=(0, 1, 0))):
        with Locations((-43.151051905, 8.210061644)):
            Rectangle(SKETCH25_W, SKETCH25_H)
        Polygon((-41.901051905, 2.410061644), (-41.901051905, 2.810061644), (-44.401051905, 2.810061644), (-44.401051905, 0), (-41.901051905, 0), align=None)
        Polygon((41.901051905, 0), (41.901051905, 2.410061644), (41.901051905, 2.810061644), (44.401051905, 2.810061644), (44.401051905, 0), align=None)
        with Locations((43.151051905, 8.210061644)):
            Rectangle(SKETCH25_W, SKETCH25_H)
    extrude(amount=BOSS_EXTRUDE14_DEPTH)

    # Sketch26 → Boss-Extrude15 (add)
    with BuildSketch(Plane(origin=(0, 1, 0), x_dir=(1, 0, 0), z_dir=(0, 1, 0))):
        with Locations((47.563, 4.205030822)):
            Rectangle(SKETCH26_W, SKETCH26_H)
        with Locations((-47.563, 4.205030822)):
            Rectangle(SKETCH26_W, SKETCH26_H)
    extrude(amount=BOSS_EXTRUDE15_DEPTH)

    # Sketch27 → Cut-Extrude13 (cut)
    with BuildSketch(Plane(origin=(0, 7, 0), x_dir=(1, 0, 0), z_dir=(0, 1, 0))):
        with Locations((44.151051905, 4.205030822)):
            Rectangle(SKETCH27_W, SKETCH27_H)
        with Locations((-44.151051905, 4.205030822)):
            Rectangle(SKETCH27_W, SKETCH27_H)
    extrude(amount=-CUT_EXTRUDE13_DEPTH, mode=Mode.SUBTRACT)

    # Sketch28 → Boss-Extrude18 (add)
    with BuildSketch(Plane(origin=(0, 1, 0), x_dir=(1, 0, 0), z_dir=(0, 1, 0))):
        Polygon((-38.901051905, -6), (-38.901051905, 0), (-41.901051905, 0), (-43.901051905, 0), (-43.901051905, -1), (-41.901051905, -1), (-41.901051905, -6), align=None)
        with Locations((-40.401051905, -8)):
            Rectangle(SKETCH28_W, SKETCH28_H)
        Polygon((43.901051905, 0), (41.901051905, 0), (38.901051905, 0), (38.901051905, -6), (41.901051905, -6), (41.901051905, -1), (43.901051905, -1), align=None)
        with Locations((40.401051905, -8)):
            Rectangle(SKETCH28_W, SKETCH28_H)
    extrude(amount=BOSS_EXTRUDE18_DEPTH)

    # Sketch29 → Cut-Extrude14 (cut, two sides)
    with BuildSketch(Plane(origin=(-38.901051905, 0, 0), x_dir=(0, 0, -1), z_dir=(1, 0, 0))) as cut_extrude14_sk:
        with Locations(Location((-5, 9, 0), (0, 0, 180))):
            Circle(SKETCH29_R)
        with BuildLine():
            Line((0, 14), (-5, 14))
            ThreePointArc((-5, 14), (-1.464466094, 12.535533906), (0, 9))
            Line((0, 9), (0, 14))
        make_face()
        with BuildLine():
            ThreePointArc((-10, 9), (-8.535533906, 12.535533906), (-5, 14))
            Line((-5, 14), (-10, 14))
            Line((-10, 14), (-10, 9))
        make_face()
    extrude(amount=CUT_EXTRUDE14_DEPTH, mode=Mode.SUBTRACT)
    extrude(cut_extrude14_sk.sketch, amount=-CUT_EXTRUDE14_DEPTH_BACK, mode=Mode.SUBTRACT)

    # Sketch30 → Cut-Extrude15 (cut)
    with BuildSketch(Plane(origin=(0, 7, 0), x_dir=(1, 0, 0), z_dir=(0, 1, 0))):
        with Locations((-42.901051905, -0.103851058)):
            Rectangle(SKETCH30_W, SKETCH30_H)
        with Locations((42.901051905, -0.103851058)):
            Rectangle(SKETCH30_W, SKETCH30_H)
    extrude(amount=CUT_EXTRUDE15_DEPTH, mode=Mode.SUBTRACT)

    # Sketch31 → Cut-Extrude16 (cut)
    with BuildSketch(Plane(origin=(0, 1, 0), x_dir=(1, 0, 0), z_dir=(0, 1, 0))):
        with Locations((4, -4.5)):
            Rectangle(SKETCH31_W, SKETCH31_H)
        with Locations((-4, -4.5)):
            Rectangle(SKETCH31_W, SKETCH31_H)
    extrude(amount=-CUT_EXTRUDE16_DEPTH, mode=Mode.SUBTRACT)

    # Sketch32 → Boss-Extrude19 (add)
    with BuildSketch(Plane(origin=(0, 1, 0), x_dir=(1, 0, 0), z_dir=(0, 1, 0))):
        with BuildLine():
            Line((-31, -8), (-31, -6))
            Line((-31, -6), (-37, -6))
            Line((-37, -6), (-37, -8))
            ThreePointArc((-37, -8), (-34, -11), (-31, -8))
        make_face()
        with Locations(Location((-34, -8, 0), (0, 0, 270))):
            Circle(SKETCH32_R, mode=Mode.SUBTRACT)
        with BuildLine():
            Line((37, -6), (31, -6))
            Line((31, -6), (31, -8))
            ThreePointArc((31, -8), (34, -11), (37, -8))
            Line((37, -8), (37, -6))
        make_face()
        with Locations(Location((34, -8, 0), (0, 0, 270))):
            Circle(SKETCH32_R, mode=Mode.SUBTRACT)
    extrude(amount=-BOSS_EXTRUDE19_DEPTH)

    # Sketch34 → Boss-Extrude20 (add)
    with BuildSketch(Plane(origin=(0, 1, 0), x_dir=(-1, 0, 0), z_dir=(0, -1, 0))):
        with Locations((40.401051905, -8)):
            Rectangle(SKETCH34_W, SKETCH34_H)
        with Locations((-40.401051905, -8)):
            Rectangle(SKETCH34_W, SKETCH34_H)
    extrude(amount=BOSS_EXTRUDE20_DEPTH)

    # Sketch35 → Cut-Extrude17 (cut)
    with BuildSketch(Plane(origin=(0, 1, 0), x_dir=(1, 0, 0), z_dir=(0, 1, 0))):
        with Locations((10, -4.5)):
            Rectangle(SKETCH35_W, SKETCH35_H)
        with Locations((-10, -4.5)):
            Rectangle(SKETCH35_W, SKETCH35_H)
    extrude(amount=-CUT_EXTRUDE17_DEPTH, mode=Mode.SUBTRACT)

    # Fillet2
    fillet2_edges = [cut_extrude5_kept_piece.edges().sort_by_distance(p)[0] for p in [
        (-31, 0.25, 6),
        (-37, 0.25, 6),
        (37, 0.25, 6),
        (31, 0.25, 6),
        (12, 0.25, 3),
        (12, 0.25, 6),
        (-12, 0.25, 6),
        (-12, 0.25, 3),
        (47.938, 0.25, 6),
        (-47.901051905, 0.25, 6),
        (-41.901051905, 3.25, 0),
        (41.901051905, 3.25, 0),
    ]]
    fillet(fillet2_edges, radius=FILLET2_R)

    # Sketch36 → Boss-Extrude21 (add)
    with BuildSketch(Plane(origin=(0, 1, 0), x_dir=(1, 0, 0), z_dir=(0, 1, 0))):
        Polygon((0, -3), (38.901051905, -3), (38.901051905, 0), (-38.901051905, 0), (-38.901051905, -3), align=None)
    extrude(amount=BOSS_EXTRUDE21_DEPTH)

    # Sketch37 → Boss-Extrude22 (add)
    with BuildSketch(Plane(origin=(0, 1, 0), x_dir=(1, 0, 0), z_dir=(0, 1, 0))):
        with Locations((-44.901051905, 9.660061644)):
            Rectangle(SKETCH37_W, SKETCH37_H)
        with Locations((44.901051905, 9.660061644)):
            Rectangle(SKETCH37_W, SKETCH37_H)
    extrude(amount=BOSS_EXTRUDE22_DEPTH)

    # Sketch38 → Boss-Extrude23 (add)
    with BuildSketch(Plane(origin=(0, 1, 0), x_dir=(1, 0, 0), z_dir=(0, 1, 0))):
        with Locations((47.919525953, 9.660061644)):
            Rectangle(SKETCH38_W, SKETCH38_H)
    extrude(amount=BOSS_EXTRUDE23_DEPTH)

    # Sketch39 → Cut-Extrude18 (cut)
    with BuildSketch(Plane(origin=(0, 7, 0), x_dir=(1, 0, 0), z_dir=(0, 1, 0))):
        with Locations((-47.919525953, 4.205030822)):
            Rectangle(SKETCH39_W, SKETCH39_H)
    extrude(amount=-CUT_EXTRUDE18_DEPTH, mode=Mode.SUBTRACT)

    # Sketch40 → Cut-Extrude19 (cut)
    with BuildSketch(Plane(origin=(0, 7, 0), x_dir=(1, 0, 0), z_dir=(0, 1, 0))):
        Polygon((-47.188, 8.410061644), (-47.188, 9.160061644), (-41.901051905, 9.160061644), (-41.901051905, 8.010061644), (-47.188, 8.010061644), align=None)
    extrude(amount=-CUT_EXTRUDE19_DEPTH, mode=Mode.SUBTRACT)

    # Sketch41 → Boss-Extrude25 (add)
    with BuildSketch(Plane(origin=(0, 1, 0), x_dir=(1, 0, 0), z_dir=(0, 1, 0))):
        with Locations((-42.901051905, 8.960061644)):
            Rectangle(SKETCH41_W, SKETCH41_H)
    extrude(amount=BOSS_EXTRUDE25_DEPTH)

    # Sketch42 → Cut-Extrude20 (cut)
    with BuildSketch(Plane(origin=(0, 7, 0), x_dir=(1, 0, 0), z_dir=(0, 1, 0))):
        Polygon((47.188, 8.410061644), (47.188, 9.160061644), (41.901051905, 9.160061644), (41.901051905, 8.010061644), (47.188, 8.010061644), align=None)
    extrude(amount=-CUT_EXTRUDE20_DEPTH, mode=Mode.SUBTRACT)

    # Sketch43 → Boss-Extrude26 (add)
    with BuildSketch(Plane(origin=(0, 1, 0), x_dir=(1, 0, 0), z_dir=(0, 1, 0))):
        with Locations((42.901051905, 8.960061644)):
            Rectangle(SKETCH43_W, SKETCH43_H)
    extrude(amount=BOSS_EXTRUDE26_DEPTH)

    # Sketch44 → Boss-Extrude27 (add)
    with BuildSketch(Plane(origin=(41.901051905, 0, 0), x_dir=(0, 0, -1), z_dir=(1, 0, 0))):
        with Locations(Location((-5, 9, 0), (0, 0, 180))):
            Circle(SKETCH44_R)
    extrude(amount=-BOSS_EXTRUDE27_DEPTH)

    # Sketch45 → Cut-Extrude21 (cut, two sides)
    with BuildSketch(Plane(origin=(41.901051905, 0, 0), x_dir=(0, 0, -1), z_dir=(1, 0, 0))) as cut_extrude21_sk:
        with Locations(Location((-5, 8, 0), (0, 0, 180))):
            Circle(SKETCH45_R)
        with BuildLine():
            ThreePointArc((0, 9), (-1.464466094, 12.535533906), (-5, 14))
            Line((-5, 14), (-5, 13))
            ThreePointArc((-5, 13), (-1.464466094, 11.535533906), (0, 8))
            Line((0, 8), (0, 9))
        make_face()
        with BuildLine():
            Line((-5, 13), (-5, 14))
            ThreePointArc((-5, 14), (-8.535533906, 12.535533906), (-10, 9))
            Line((-10, 9), (-10, 8))
            ThreePointArc((-10, 8), (-8.535533906, 11.535533906), (-5, 13))
        make_face()
    extrude(amount=CUT_EXTRUDE21_DEPTH, mode=Mode.SUBTRACT)
    extrude(cut_extrude21_sk.sketch, amount=-CUT_EXTRUDE21_DEPTH_BACK, mode=Mode.SUBTRACT)

    # Sketch46 → Boss-Extrude28 (add)
    with BuildSketch(Plane.ZY.offset(41.901051905)):
        with Locations((5, 9)):
            Circle(SKETCH46_R)
    extrude(amount=-BOSS_EXTRUDE28_DEPTH)

    # Sketch47 → Cut-Extrude22 (cut)
    with BuildSketch(Plane.ZY.offset(41.901051905)):
        with Locations((5, 8)):
            Circle(SKETCH47_R)
    extrude(amount=-CUT_EXTRUDE22_DEPTH, mode=Mode.SUBTRACT)

    # Sketch49 → Boss-Extrude29 (add)
    with BuildSketch(Plane(origin=(0, -0.5, 0), x_dir=(-1, 0, 0), z_dir=(0, -1, 0))):
        with Locations((43.901051905, 12.852566903)):
            Circle(SKETCH49_R)
    extrude(amount=-BOSS_EXTRUDE29_DEPTH)

    # Sketch50 → Cut-Extrude23 (cut)
    with BuildSketch(Plane(origin=(0, 1, 0), x_dir=(1, 0, 0), z_dir=(0, 1, 0))):
        with Locations(Location((-43.901051905, 12.852566903, 0), (0, 0, 270))):
            Circle(SKETCH50_R)
    extrude(amount=-CUT_EXTRUDE23_DEPTH, mode=Mode.SUBTRACT)

    # Sketch51 → Cut-Extrude25 (cut)
    with BuildSketch(Plane(origin=(0, 1, 0), x_dir=(1, 0, 0), z_dir=(0, 1, 0))):
        with BuildLine():
            Line((-43.901051905, 15.852566903), (-43.901051905, 16.852566903))
            Line((-43.901051905, 16.852566903), (-54.064813642, 17.477129805))
            Line((-54.064813642, 17.477129805), (-47.901051905, 9.910061644))
            Line((-47.901051905, 9.910061644), (-46.901051905, 9.910061644))
            Line((-46.901051905, 9.910061644), (-46.901051905, 12.852566903))
            ThreePointArc((-46.901051905, 12.852566903), (-46.022372248, 14.973887246), (-43.901051905, 15.852566903))
        make_face()
        with BuildLine():
            Line((46.901051905, 12.852566903), (46.901051905, 9.910061644))
            Line((46.901051905, 9.910061644), (47.901051905, 9.910061644))
            Line((47.901051905, 9.910061644), (54.064813642, 17.477129805))
            Line((54.064813642, 17.477129805), (43.901051905, 16.852566903))
            Line((43.901051905, 16.852566903), (43.901051905, 15.852566903))
            ThreePointArc((43.901051905, 15.852566903), (46.022372248, 14.973887246), (46.901051905, 12.852566903))
        make_face()
    extrude(amount=-CUT_EXTRUDE25_DEPTH, mode=Mode.SUBTRACT)


solid = cut_extrude5_kept_piece.part
